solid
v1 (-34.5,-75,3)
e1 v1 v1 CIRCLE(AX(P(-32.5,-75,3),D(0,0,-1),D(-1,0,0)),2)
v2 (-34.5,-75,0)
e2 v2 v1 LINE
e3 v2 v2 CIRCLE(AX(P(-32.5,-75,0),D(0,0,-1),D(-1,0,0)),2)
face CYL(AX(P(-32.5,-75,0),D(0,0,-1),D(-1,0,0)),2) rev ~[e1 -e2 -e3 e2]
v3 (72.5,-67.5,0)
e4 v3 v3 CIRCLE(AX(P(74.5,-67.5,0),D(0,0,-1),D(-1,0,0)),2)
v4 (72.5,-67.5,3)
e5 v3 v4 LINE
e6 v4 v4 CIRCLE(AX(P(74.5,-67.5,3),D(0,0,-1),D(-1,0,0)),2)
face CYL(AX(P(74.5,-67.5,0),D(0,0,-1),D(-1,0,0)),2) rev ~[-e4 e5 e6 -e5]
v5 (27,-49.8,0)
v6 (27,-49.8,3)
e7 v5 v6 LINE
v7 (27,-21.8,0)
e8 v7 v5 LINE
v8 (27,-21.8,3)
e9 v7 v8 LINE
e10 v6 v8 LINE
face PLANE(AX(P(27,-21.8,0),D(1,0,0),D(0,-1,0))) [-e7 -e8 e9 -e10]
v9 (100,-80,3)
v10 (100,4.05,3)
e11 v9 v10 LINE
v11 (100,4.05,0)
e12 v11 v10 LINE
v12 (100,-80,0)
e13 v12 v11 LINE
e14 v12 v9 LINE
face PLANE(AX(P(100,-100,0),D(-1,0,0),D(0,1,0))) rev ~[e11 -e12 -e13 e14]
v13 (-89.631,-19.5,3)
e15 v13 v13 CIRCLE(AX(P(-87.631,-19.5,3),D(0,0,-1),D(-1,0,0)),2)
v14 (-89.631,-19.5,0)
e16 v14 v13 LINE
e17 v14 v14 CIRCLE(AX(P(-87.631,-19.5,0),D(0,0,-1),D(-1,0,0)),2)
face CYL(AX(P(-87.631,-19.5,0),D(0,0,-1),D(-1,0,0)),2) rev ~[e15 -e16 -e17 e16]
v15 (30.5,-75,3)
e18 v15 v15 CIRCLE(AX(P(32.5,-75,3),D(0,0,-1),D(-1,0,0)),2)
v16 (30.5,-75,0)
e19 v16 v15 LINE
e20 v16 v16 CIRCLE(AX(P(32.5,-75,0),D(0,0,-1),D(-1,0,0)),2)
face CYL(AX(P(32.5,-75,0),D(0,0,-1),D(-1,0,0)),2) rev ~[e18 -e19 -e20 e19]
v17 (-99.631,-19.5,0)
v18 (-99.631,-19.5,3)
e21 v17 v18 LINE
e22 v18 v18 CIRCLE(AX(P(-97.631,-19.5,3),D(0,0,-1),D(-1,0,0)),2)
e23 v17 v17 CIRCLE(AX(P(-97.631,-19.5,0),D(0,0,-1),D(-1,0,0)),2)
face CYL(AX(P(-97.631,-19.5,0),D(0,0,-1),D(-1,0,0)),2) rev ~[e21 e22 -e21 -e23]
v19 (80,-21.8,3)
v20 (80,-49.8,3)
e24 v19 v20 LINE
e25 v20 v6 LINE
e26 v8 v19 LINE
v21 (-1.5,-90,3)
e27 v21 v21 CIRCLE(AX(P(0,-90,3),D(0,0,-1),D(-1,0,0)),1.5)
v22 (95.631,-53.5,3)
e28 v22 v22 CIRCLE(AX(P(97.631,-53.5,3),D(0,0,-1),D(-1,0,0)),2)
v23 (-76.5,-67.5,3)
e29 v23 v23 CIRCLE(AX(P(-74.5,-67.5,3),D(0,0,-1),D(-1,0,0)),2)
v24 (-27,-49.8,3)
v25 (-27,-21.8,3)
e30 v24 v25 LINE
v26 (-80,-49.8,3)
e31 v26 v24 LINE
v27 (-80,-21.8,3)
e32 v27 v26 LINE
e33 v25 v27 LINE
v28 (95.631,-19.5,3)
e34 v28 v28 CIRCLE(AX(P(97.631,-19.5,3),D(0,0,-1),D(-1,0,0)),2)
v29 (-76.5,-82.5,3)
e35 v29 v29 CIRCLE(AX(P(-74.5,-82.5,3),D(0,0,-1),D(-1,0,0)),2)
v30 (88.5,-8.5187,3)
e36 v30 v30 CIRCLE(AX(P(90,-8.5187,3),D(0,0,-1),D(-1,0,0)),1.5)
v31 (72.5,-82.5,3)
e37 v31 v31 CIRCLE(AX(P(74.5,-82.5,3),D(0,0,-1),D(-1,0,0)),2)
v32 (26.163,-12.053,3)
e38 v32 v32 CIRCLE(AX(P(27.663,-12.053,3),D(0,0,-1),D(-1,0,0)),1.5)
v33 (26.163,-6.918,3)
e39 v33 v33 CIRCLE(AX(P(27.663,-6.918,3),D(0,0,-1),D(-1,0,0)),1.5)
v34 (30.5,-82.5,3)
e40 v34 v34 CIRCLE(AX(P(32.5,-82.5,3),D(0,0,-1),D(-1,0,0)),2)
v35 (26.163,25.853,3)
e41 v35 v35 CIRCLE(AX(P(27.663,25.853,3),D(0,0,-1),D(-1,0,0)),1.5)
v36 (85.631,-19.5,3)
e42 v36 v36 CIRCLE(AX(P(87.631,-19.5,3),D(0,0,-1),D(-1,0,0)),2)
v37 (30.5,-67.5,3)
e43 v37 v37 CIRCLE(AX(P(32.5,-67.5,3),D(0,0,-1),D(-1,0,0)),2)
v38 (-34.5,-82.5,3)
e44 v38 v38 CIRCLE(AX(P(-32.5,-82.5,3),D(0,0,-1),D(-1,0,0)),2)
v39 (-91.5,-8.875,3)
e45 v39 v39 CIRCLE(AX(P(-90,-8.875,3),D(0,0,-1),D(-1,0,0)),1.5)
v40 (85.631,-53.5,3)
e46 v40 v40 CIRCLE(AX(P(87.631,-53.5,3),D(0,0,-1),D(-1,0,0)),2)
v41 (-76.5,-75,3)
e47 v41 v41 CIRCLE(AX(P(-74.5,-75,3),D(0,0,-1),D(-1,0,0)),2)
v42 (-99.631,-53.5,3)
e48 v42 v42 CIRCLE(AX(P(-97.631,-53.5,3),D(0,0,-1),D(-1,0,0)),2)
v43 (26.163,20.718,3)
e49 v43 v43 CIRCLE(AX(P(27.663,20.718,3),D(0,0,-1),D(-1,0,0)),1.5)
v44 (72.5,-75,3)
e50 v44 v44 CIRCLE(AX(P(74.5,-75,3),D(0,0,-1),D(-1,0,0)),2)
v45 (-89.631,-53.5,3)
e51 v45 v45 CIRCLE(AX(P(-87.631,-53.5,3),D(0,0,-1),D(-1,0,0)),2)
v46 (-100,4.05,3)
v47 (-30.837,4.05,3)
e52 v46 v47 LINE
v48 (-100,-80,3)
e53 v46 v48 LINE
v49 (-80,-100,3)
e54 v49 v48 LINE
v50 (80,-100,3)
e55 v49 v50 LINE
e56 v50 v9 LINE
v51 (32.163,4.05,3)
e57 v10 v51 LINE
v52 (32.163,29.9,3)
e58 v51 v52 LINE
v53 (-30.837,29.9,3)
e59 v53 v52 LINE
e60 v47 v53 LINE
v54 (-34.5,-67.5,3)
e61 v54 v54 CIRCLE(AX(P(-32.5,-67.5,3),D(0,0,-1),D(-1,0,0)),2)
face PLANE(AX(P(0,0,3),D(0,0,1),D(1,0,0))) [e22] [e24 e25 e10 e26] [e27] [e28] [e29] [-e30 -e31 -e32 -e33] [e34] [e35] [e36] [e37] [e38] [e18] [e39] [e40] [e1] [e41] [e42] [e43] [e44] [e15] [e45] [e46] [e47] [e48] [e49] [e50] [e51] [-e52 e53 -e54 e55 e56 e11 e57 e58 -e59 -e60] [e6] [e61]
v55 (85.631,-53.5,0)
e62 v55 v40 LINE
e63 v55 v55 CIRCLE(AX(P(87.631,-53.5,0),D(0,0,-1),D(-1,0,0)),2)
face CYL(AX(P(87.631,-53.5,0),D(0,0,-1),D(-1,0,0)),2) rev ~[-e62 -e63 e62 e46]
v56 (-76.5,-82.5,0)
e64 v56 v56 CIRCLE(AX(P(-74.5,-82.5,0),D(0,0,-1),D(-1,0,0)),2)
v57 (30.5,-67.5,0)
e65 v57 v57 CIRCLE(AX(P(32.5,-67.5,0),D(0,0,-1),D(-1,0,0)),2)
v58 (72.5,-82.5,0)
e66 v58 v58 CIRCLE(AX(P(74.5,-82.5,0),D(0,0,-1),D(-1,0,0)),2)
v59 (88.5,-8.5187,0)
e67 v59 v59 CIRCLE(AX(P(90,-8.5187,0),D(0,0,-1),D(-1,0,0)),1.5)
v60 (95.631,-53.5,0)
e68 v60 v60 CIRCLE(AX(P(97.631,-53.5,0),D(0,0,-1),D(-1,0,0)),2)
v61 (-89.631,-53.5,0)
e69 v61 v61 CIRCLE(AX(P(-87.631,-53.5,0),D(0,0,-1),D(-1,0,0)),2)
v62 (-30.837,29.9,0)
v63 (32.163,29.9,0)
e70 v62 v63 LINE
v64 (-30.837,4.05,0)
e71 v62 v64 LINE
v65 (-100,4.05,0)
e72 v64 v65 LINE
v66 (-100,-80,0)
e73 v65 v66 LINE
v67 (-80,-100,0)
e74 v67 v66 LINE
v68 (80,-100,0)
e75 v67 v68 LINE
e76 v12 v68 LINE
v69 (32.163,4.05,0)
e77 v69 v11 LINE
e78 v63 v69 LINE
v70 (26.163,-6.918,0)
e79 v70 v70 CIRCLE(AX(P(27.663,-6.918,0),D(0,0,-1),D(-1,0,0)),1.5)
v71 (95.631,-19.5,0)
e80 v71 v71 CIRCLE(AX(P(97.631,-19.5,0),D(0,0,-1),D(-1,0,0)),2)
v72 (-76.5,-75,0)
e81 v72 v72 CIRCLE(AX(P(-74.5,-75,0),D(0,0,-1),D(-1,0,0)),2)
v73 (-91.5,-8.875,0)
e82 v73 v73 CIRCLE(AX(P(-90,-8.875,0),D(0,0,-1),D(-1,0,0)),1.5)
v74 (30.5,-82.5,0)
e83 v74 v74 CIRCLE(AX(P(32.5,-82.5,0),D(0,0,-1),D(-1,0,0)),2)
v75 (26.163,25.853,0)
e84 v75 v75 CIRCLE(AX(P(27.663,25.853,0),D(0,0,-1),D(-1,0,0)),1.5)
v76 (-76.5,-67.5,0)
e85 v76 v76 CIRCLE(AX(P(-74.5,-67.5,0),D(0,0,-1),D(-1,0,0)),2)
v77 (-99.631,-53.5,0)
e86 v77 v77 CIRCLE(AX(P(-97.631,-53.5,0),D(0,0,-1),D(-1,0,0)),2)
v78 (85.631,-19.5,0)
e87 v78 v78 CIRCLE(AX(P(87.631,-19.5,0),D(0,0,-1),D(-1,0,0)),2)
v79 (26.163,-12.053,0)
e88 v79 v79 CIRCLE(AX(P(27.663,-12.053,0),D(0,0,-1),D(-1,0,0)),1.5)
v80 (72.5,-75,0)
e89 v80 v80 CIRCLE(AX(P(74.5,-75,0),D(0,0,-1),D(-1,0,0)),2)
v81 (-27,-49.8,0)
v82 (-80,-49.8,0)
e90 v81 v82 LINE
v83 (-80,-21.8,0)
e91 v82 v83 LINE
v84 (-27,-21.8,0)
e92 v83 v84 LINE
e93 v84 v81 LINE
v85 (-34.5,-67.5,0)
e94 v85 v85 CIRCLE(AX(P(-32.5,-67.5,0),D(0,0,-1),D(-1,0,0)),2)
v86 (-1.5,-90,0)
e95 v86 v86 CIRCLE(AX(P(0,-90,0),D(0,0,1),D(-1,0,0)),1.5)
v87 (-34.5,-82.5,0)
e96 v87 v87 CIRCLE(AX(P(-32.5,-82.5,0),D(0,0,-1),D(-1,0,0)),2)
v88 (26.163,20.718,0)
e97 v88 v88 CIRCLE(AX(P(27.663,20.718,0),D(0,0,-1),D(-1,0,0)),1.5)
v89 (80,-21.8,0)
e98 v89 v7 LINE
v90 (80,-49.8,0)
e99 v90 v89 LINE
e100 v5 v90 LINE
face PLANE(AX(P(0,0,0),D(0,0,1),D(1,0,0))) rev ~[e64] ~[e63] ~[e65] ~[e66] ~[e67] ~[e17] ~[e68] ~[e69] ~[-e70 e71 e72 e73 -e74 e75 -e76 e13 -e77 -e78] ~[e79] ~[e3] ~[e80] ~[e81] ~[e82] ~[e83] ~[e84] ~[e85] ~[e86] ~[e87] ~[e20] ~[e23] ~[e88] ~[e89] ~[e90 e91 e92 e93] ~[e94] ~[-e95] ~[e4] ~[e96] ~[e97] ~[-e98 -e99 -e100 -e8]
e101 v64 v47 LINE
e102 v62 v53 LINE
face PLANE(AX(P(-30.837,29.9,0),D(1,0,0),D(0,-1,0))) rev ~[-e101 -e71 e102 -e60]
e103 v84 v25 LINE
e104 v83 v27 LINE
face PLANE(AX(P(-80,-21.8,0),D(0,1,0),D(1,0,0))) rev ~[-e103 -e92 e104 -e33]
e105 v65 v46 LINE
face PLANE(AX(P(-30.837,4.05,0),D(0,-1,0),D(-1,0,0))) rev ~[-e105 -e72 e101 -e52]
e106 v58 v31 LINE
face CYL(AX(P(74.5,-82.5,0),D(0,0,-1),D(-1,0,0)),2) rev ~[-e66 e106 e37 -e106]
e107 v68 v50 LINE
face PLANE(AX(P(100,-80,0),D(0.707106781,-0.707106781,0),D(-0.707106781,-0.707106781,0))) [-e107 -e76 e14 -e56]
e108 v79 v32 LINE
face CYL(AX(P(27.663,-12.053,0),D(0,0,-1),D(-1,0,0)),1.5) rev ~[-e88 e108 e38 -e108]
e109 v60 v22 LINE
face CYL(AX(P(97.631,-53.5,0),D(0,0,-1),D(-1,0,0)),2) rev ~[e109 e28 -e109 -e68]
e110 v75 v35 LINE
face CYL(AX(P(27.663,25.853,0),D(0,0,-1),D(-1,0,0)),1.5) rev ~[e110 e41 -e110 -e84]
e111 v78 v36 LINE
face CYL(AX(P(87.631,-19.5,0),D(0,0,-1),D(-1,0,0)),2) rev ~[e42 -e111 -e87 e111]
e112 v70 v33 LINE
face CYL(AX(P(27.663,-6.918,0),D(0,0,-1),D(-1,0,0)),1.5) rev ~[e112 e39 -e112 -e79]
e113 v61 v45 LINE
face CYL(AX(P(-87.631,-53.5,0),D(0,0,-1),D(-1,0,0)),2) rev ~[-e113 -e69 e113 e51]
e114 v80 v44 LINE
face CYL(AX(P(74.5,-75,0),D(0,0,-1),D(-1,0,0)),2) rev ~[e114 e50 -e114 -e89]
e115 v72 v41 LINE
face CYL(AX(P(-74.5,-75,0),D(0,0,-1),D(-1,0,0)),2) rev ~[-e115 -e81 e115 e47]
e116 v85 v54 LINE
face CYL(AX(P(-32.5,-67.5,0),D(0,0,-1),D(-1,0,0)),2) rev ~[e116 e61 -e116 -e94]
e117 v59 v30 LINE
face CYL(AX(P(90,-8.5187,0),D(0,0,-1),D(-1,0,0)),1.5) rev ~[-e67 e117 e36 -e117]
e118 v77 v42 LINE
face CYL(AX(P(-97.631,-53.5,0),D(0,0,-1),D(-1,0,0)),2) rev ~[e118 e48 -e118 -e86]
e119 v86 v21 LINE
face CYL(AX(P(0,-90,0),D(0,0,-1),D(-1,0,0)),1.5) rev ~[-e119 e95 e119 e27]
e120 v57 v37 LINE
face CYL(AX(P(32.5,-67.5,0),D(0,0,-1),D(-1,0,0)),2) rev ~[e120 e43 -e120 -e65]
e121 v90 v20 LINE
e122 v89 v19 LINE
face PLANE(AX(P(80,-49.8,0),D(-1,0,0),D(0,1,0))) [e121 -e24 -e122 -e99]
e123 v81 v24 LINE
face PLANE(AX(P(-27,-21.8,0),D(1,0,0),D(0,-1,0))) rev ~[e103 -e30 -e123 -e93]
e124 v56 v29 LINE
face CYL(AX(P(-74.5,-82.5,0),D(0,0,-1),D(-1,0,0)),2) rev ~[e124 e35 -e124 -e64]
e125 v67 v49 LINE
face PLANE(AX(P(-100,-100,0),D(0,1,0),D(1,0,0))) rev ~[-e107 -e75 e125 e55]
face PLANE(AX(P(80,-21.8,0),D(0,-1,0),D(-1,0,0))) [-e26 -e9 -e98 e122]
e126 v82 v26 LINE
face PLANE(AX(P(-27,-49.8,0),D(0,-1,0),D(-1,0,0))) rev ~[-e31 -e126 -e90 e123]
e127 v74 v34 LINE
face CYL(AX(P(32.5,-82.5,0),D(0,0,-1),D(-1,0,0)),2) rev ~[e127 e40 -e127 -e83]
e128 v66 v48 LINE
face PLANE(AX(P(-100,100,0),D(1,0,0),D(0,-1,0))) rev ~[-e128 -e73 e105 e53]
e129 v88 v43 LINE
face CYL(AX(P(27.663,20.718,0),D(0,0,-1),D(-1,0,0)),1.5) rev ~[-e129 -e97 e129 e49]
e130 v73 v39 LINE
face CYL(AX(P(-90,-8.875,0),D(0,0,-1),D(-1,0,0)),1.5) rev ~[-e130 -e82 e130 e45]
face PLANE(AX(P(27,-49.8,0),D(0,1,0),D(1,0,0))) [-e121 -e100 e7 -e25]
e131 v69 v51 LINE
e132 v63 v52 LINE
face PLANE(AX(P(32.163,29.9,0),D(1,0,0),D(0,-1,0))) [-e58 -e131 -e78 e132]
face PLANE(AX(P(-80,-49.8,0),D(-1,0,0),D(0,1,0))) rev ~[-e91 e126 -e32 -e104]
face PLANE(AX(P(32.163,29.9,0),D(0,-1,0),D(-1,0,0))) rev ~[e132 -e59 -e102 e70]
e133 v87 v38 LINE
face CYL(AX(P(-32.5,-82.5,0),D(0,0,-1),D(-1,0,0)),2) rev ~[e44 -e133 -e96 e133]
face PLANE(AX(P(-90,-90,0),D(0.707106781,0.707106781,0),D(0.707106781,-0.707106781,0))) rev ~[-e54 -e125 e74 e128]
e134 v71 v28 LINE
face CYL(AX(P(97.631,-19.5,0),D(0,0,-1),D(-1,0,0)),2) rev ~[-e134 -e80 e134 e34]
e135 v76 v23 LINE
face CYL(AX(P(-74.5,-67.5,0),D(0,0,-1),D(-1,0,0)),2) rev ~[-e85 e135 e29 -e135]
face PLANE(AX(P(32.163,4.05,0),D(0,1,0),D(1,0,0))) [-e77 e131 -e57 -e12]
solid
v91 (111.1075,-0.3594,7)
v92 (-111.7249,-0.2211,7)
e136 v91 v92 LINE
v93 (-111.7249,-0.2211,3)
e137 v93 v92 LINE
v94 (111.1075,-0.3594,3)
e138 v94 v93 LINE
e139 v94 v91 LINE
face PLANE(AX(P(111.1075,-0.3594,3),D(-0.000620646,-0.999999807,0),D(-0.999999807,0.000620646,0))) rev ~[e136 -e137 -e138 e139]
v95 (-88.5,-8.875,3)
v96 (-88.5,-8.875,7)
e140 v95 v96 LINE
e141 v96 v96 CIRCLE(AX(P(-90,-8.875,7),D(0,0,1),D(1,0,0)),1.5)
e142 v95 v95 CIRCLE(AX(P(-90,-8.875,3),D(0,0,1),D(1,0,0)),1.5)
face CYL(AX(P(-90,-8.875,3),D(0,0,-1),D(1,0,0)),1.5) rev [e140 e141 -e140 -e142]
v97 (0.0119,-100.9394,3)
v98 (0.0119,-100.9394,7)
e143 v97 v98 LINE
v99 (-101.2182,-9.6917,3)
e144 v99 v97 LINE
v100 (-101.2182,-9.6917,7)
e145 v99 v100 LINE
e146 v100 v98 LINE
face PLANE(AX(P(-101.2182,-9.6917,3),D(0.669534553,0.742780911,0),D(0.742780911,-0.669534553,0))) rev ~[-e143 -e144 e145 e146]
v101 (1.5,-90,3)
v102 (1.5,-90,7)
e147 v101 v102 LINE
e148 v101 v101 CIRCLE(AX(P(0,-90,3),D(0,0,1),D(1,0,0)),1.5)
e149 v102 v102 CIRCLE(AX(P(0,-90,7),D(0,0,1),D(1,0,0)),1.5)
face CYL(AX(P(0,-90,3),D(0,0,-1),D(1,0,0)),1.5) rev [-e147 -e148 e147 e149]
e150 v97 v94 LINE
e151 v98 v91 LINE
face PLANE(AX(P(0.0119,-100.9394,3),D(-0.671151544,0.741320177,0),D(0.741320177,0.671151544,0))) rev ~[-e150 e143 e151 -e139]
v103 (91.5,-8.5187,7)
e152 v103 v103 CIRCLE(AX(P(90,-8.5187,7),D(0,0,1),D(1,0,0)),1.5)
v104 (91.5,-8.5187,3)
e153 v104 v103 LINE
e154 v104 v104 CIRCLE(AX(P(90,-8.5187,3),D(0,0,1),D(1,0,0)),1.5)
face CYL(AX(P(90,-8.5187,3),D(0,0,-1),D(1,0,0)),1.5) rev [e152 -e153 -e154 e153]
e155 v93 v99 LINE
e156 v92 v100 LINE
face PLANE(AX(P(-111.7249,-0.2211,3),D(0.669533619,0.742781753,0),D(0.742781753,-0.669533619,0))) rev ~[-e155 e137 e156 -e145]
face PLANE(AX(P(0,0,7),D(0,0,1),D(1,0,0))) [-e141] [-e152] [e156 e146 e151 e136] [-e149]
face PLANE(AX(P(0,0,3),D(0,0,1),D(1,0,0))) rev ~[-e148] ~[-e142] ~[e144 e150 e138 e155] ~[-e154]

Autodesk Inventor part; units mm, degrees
ref_plane "YZ Plane" through (0, 0, 0) normal (1, 0, 0) x (0, 1, 0)
ref_plane "XZ Plane" through (0, 0, 0) normal (0, 1, 0) x (-1, 0, 0)
ref_plane "XY Plane" through (0, 0, 0) normal (0, 0, 1) x (1, 0, 0)
sketch "Эскиз1" plane through (0, 0, 0) normal (0, 0, 1) x (1, 0, 0)
  line L0 (-100, -100) -> (100, -100)
  line L1 (100, -100) -> (100, 100)
  line L2 (100, 100) -> (-100, 100)
  line L3 (-100, 100) -> (-100, -100)
  line L4 (-100, -100) -> (100, 100) construction
  line L5 (100, -100) -> (-100, 100) construction
  point P0 (0, 0)
  dimension "d0" = 200
  dimension "d1" = 200
extrude "Выдавливание1" add sketch "Эскиз1" along normal blind 3
sketch "Эскиз2" plane through (0, 0, 3) normal (0, 0, 1) x (1, 0, 0)
  line L0 (-100, -100) -> (100, -100) projected
  line L1 (100, -100) -> (100, 100) projected
  line L2 (100, 100) -> (-100, 100) projected
  line L3 (-100, 100) -> (-100, -100) projected
  line L4 (-100, 100) -> (-90, 100) construction
  line L5 (-100, -100) -> (100, -100) construction
  line L6 (100, -100) -> (90, -100) construction
  line L7 (-90, 100) -> (-90, 90) construction
  line L8 (100, 100) -> (-100, 100) construction
  line L9 (-90, 100) -> (-80, 100) construction
  line L10 (90, -100) -> (90, -90) construction
  line L11 (-90, 90) -> (90, 90) construction
  line L12 (90, 90) -> (90, -90) construction
  line L13 (90, -90) -> (-90, -90) construction
  line L14 (-90, -90) -> (-90, 90) construction
  point P0 (0, 0)
  dimension "d4" = 10
  dimension "d5" = 10
  dimension "d6" = 10
  dimension "d7" = 270
  dimension "d8" = 10
sketch "Эскиз3" plane through (0, 0, 0) normal (0, 0, -1) x (-1, 0, 0)
  line L0 (-90, -90) -> (90, -90) construction
  line L1 (90, -90) -> (90, 90) construction
  line L2 (90, 90) -> (-90, 90) construction
  line L3 (100, -100) -> (-100, -100) projected
  line L4 (-100, -100) -> (-100, 100) projected
  line L5 (-100, 100) -> (100, 100) projected
  line L6 (100, 100) -> (100, -100) projected
  line L7 (-90, 90) -> (-90, -90) construction
  point P0 (0, 0)
sketch "Эскиз4" plane through (0, 0, 0) normal (0, 0, -1) x (-1, 0, 0)
  line L0 (90, -90) -> (90, 90) construction
  line L1 (-90, -90) -> (90, -90) construction
  line L2 (90, -90) -> (80, -90) construction
  line L3 (80, -90) -> (80, -57.8) construction
  line L4 (80, -57.8) -> (69, -57.8) construction
  line L5 (69, -57.8) -> (69, -90) construction
  line L6 (74.5, -90) -> (74.5, -58.2367) construction
  line L7 (80, -73.9) -> (69, -73.9) construction
  line L8 (74.5, -90) -> (74.5, -82.5) construction
  circle A0 centre (74.5, -82.5) radius 2
  line L9 (74.5, -82.5) -> (74.5, -75) construction
  line L10 (74.5, -75) -> (74.5, -67.5) construction
  circle A1 centre (74.5, -75) radius 2
  circle A2 centre (74.5, -67.5) radius 2
  line L11 (69, -90) -> (38, -90) construction
  line L12 (53.5, -90) -> (53.5, -69.5) construction
  line L13 (27, -90) -> (27, -57.8) construction
  line L14 (27, -57.8) -> (38, -57.8) construction
  line L15 (38, -57.8) -> (38, -90) construction
  line L16 (32.5, -90) -> (32.5, -58.2367) construction
  line L17 (27, -73.9) -> (38, -73.9) construction
  line L18 (32.5, -90) -> (32.5, -82.5) construction
  circle A3 centre (32.5, -82.5) radius 2
  line L19 (32.5, -82.5) -> (32.5, -75) construction
  line L20 (32.5, -75) -> (32.5, -67.5) construction
  circle A4 centre (32.5, -75) radius 2
  circle A5 centre (32.5, -67.5) radius 2
  line L21 (0, 90) -> (0, -90)
  line L22 (-80, -90) -> (-80, -57.8) construction
  line L23 (-80, -57.8) -> (-69, -57.8) construction
  line L24 (-69, -57.8) -> (-69, -90) construction
  line L25 (-74.5, -90) -> (-74.5, -58.2367) construction
  line L26 (-80, -73.9) -> (-69, -73.9) construction
  line L27 (-74.5, -90) -> (-74.5, -82.5) construction
  circle A6 centre (-74.5, -82.5) radius 2
  line L28 (-74.5, -82.5) -> (-74.5, -75) construction
  line L29 (-74.5, -75) -> (-74.5, -67.5) construction
  circle A7 centre (-74.5, -75) radius 2
  circle A8 centre (-74.5, -67.5) radius 2
  line L30 (-69, -90) -> (-38, -90) construction
  line L31 (-53.5, -90) -> (-53.5, -69.5) construction
  line L32 (-27, -90) -> (-27, -57.8) construction
  line L33 (-38, -57.8) -> (-38, -90) construction
  line L34 (-27, -73.9) -> (-38, -73.9) construction
  line L35 (-27, -57.8) -> (-38, -57.8) construction
  line L36 (-32.5, -90) -> (-32.5, -58.2367) construction
  line L37 (-32.5, -90) -> (-32.5, -82.5) construction
  circle A9 centre (-32.5, -82.5) radius 2
  line L38 (-32.5, -82.5) -> (-32.5, -75) construction
  circle A10 centre (-32.5, -75) radius 2
  line L39 (-32.5, -75) -> (-32.5, -67.5) construction
  circle A11 centre (-32.5, -67.5) radius 2
  line L40 (27, -57.8) -> (80, -57.8) construction
  line L41 (80, -57.8) -> (80, -29.8) construction
  line L42 (80, -29.8) -> (27, -29.8) construction
  line L43 (27, -29.8) -> (27, -57.8) construction
  line L44 (-80, -57.8) -> (-69, -57.8) construction
  line L45 (-27, -57.8) -> (-38, -57.8) construction
  line L46 (-27, -57.8) -> (-80, -57.8) construction
  line L47 (-80, -57.8) -> (-80, -29.8) construction
  line L48 (-80, -29.8) -> (-27, -29.8) construction
  line L49 (-27, -29.8) -> (-27, -57.8) construction
  line L50 (80, -57.8) -> (27, -57.8) construction
  line L51 (27, -57.8) -> (27, -49.8) construction
  line L52 (27, -49.8) -> (80, -49.8) construction
  line L53 (80, -49.8) -> (80, -57.8) construction
  line L54 (-27, -57.8) -> (-80, -57.8) construction
  line L55 (-80, -57.8) -> (-80, -49.8) construction
  line L56 (-80, -49.8) -> (-27, -49.8) construction
  line L57 (-27, -49.8) -> (-27, -57.8) construction
  line L58 (27, -49.8) -> (80, -49.8)
  line L59 (80, -49.8) -> (80, -21.8)
  line L60 (80, -21.8) -> (27, -21.8)
  line L61 (27, -21.8) -> (27, -49.8)
  line L62 (-27, -49.8) -> (-80, -49.8)
  line L63 (-80, -49.8) -> (-80, -21.8)
  line L64 (-80, -21.8) -> (-27, -21.8)
  line L65 (-27, -21.8) -> (-27, -49.8)
  line L66 (100, -100) -> (-100, -100) construction
  line L67 (100, 100) -> (100, -100) construction
  line L68 (-100, 100) -> (100, 100) construction
  line L69 (-100, -100) -> (-100, 100) construction
  line L70 (-100, -100) -> (-100, 100) construction
  line L71 (-100, -10.3933) -> (-30.663, -10.3933) construction
  line L72 (100, -100) -> (-100, -100) construction
  line L73 (-16.2396, -100) -> (-16.2396, -14.621) construction
  line L74 (-100, 100) -> (100, 100) construction
  line L75 (-16.2396, 100) -> (-16.2396, -4.35) construction
  line L76 (-16.2396, 100) -> (88.1104, 100) construction
  line L77 (-30.663, -4.35) -> (-30.663, -14.621)
  line L78 (-30.663, -9.4855) -> (-27.663, -9.4855) construction
  line L79 (-27.663, -4.35) -> (-27.663, -14.621) construction
  line L80 (-30.663, -14.621) -> (-16.2396, -14.621) construction
  line L81 (-30.663, -4.35) -> (-16.2396, -4.35) construction
  line L82 (-16.2396, -14.621) -> (-16.2396, -4.35) construction
  line L83 (-27.663, -14.621) -> (-27.663, -12.053) construction
  circle A12 centre (-27.663, -12.053) radius 1.5
  line L84 (-27.663, -12.053) -> (-27.663, -6.918) construction
  circle A13 centre (-27.663, -6.918) radius 1.5
  line L85 (-30.663, -10.3933) -> (-53.163, -10.3933) construction
  line L86 (-30.663, -4.35) -> (-30.663, 18.15) construction
  line L87 (-30.663, 6.9) -> (-19.0358, 6.9) construction
  line L88 (-30.663, 18.15) -> (-30.663, 28.421)
  line L89 (-30.663, 23.2855) -> (-27.663, 23.2855) construction
  line L90 (-27.663, 18.15) -> (-27.663, 28.421) construction
  line L91 (-27.663, 28.421) -> (-27.663, 25.853) construction
  circle A14 centre (-27.663, 25.853) radius 1.5
  line L92 (-27.663, 25.853) -> (-27.663, 20.718) construction
  circle A15 centre (-27.663, 20.718) radius 1.5
  line L93 (-30.663, 28.421) -> (29.337, 28.421) construction
  line L94 (29.337, 28.421) -> (29.337, -14.621) construction
  line L95 (29.337, -14.621) -> (-30.663, -14.621) construction
  line L96 (-30.663, -14.621) -> (-30.663, 28.421) construction
  line L97 (-30.663, 28.421) -> (29.337, -14.621) construction
  line L98 (29.337, 28.421) -> (-30.663, -14.621) construction
  line L99 (-32.163, -16.1) -> (30.837, -16.1) construction
  line L100 (30.837, -16.1) -> (30.837, 29.9) construction
  line L101 (30.837, 29.9) -> (-32.163, 29.9) construction
  line L102 (-32.163, 29.9) -> (-32.163, -16.1) construction
  line L103 (-32.163, -16.1) -> (30.837, 29.9) construction
  line L104 (30.837, -16.1) -> (-32.163, 29.9) construction
  line L105 (-100, -21.8) -> (100, -21.8) construction
  line L106 (100, -21.8) -> (100, 29.9) construction
  line L107 (100, 29.9) -> (-100, 29.9) construction
  line L108 (-100, 29.9) -> (-100, -21.8) construction
  line L109 (100, 100) -> (100, -100) construction
  line L110 (100, 4.05) -> (-100, 4.05) construction
  line L111 (-90, -90) -> (-90, 47.825) construction
  line L112 (90, -21.8) -> (90, 4.05) construction
  line L113 (-90, -21.0875) -> (-90, 4.05) construction
  line L114 (-90, -8.5187) -> (90, -8.875) construction
  circle A16 centre (-90, -8.5187) radius 1.5
  circle A17 centre (90, -8.875) radius 1.5
  circle A18 centre (0, -90) radius 1.5
  line L115 (100, 4.05) -> (30.837, 4.05) construction
  line L116 (30.837, 4.05) -> (30.837, 100) construction
  line L117 (30.837, 100) -> (100, 100) construction
  line L118 (100, 100) -> (100, 4.05) construction
  line L119 (30.837, 4.05) -> (100, 4.05)
  line L120 (100, 4.05) -> (100, 100)
  line L121 (100, 100) -> (30.837, 100)
  line L122 (30.837, 100) -> (30.837, 4.05)
  line L123 (30.837, 100) -> (-100, 100)
  line L124 (-100, 100) -> (-100, 29.9)
  line L125 (-100, 29.9) -> (30.837, 29.9)
  line L126 (30.837, 29.9) -> (30.837, 100)
  line L127 (-100, 29.9) -> (-32.163, 29.9)
  line L128 (-32.163, 29.9) -> (-32.163, 4.05)
  line L129 (-32.163, 4.05) -> (-100, 4.05)
  line L130 (-100, 4.05) -> (-100, 29.9)
  line L131 (0, -8.6969) -> (-5, -8.6969) construction
  line L132 (0, -8.6969) -> (5, -8.6969) construction
  line L133 (90, -90) -> (100, -80)
  line L134 (90, -90) -> (104.1421, -90) construction
  line L135 (100, -80) -> (80, -100)
  line L136 (100, -100) -> (-100, -100) projected
  line L137 (80, -100) -> (100, -100)
  line L138 (100, -100) -> (100, -80)
  line L139 (-100, -100) -> (100, -100) construction
  line L140 (-100, -100) -> (100, -100) construction
  line L141 (-100, -80) -> (-80, -100)
  line L142 (-100, -100) -> (100, -100)
  line L143 (-100, -100) -> (-100, -80)
  line L144 (100, 100) -> (100, -100) projected
  line L145 (100, -21.8) -> (87.631, -21.8) construction
  line L146 (87.631, 4.05) -> (87.631, -19.5) construction
  line L147 (87.631, -21.8) -> (87.631, -18.7327) construction
  circle A19 centre (87.631, -19.5) radius 2
  line L148 (87.631, -19.5) -> (97.631, -19.5) construction
  circle A20 centre (97.631, -19.5) radius 2
  line L149 (87.631, -19.5) -> (87.631, -53.5) construction
  line L150 (87.631, -36.5) -> (80, -36.5) construction
  circle A21 centre (87.631, -53.5) radius 2
  line L151 (87.631, -53.5) -> (97.631, -53.5) construction
  circle A22 centre (97.631, -53.5) radius 2
  circle A23 centre (-87.631, -19.5) radius 2
  line L152 (-87.631, -19.5) -> (-97.631, -19.5) construction
  circle A24 centre (-97.631, -19.5) radius 2
  circle A25 centre (-87.631, -53.5) radius 2
  line L153 (-87.631, -53.5) -> (-97.631, -53.5) construction
  circle A26 centre (-97.631, -53.5) radius 2
  point P0 (0, 0)
  point P1 (-30.663, 24.1933)
  point P2 (-0.663, 6.9)
  dimension "d9" = 10
  dimension "d10" = 32.2
  dimension "d11" = 11
  dimension "d12" = 7.5
  dimension "d13" = 4
  dimension "d14" = 7.5
  dimension "d15" = 7.5
  dimension "d16" = 4
  dimension "d17" = 4
  dimension "d18" = 31
  dimension "d23" = 28
  dimension "d24" = 8
  dimension "d25" = 8
  dimension "d26" = 28
  dimension "d27" = 28
  dimension "d31" = 69.337
  dimension "d32" = 85.379
  dimension "d33" = 104.35
  dimension "d34" = 90
  dimension "d35" = 3
  dimension "d36" = 2.568
  dimension "d37" = 3
  dimension "d38" = 5.135
  dimension "d39" = 3
  dimension "d40" = 22.5
  dimension "d41" = 22.5
  dimension "d44" = 60
  dimension "d45" = 63
  dimension "d46" = 46
  dimension "d47" = 3
  dimension "d48" = 3
  dimension "d49" = 3
  dimension "d54" = 5
  dimension "d55" = 180
  dimension "d59" = 45
  dimension "d62" = 12.369
  dimension "d63" = 23.55
  dimension "d64" = 4
  dimension "d65" = 10
  dimension "d66" = 4
  dimension "d67" = 34
extrude "Выдавливание2" cut sketch "Эскиз4" against normal blind 10 contours A0 | A1 | A2 | A3 | A4 | A5
extrude "Выдавливание3" cut sketch "Эскиз4" against normal blind 10 contours A6 | A7 | A8 | A9 | A10 | A11
extrude "Выдавливание4" cut sketch "Эскиз4" against normal blind 10 contours L61 L60 L59 L58 | L62 L63 L64 L65
extrude "Выдавливание5" cut sketch "Эскиз4" against normal blind 10 contours A12 | A13 | A14 | A15
extrude "Выдавливание6" cut sketch "Эскиз4" against normal blind 10 contours A18 | A16 | A17
extrude "Выдавливание7" cut sketch "Эскиз4" against normal blind 10 contours L125 L124 L123 L122 | L128 L129 L130 L125 | L122 L121 L120 L119
extrude "Выдавливание9" cut sketch "Эскиз4" against normal blind 10 contours L136 L143 L141 | L138 L136 L135 L133
extrude "Выдавливание10" cut sketch "Эскиз4" against normal blind 10 contours A19 | A20 | A21 | A22 | A23 | A24 | A25 | A26
sketch "Эскиз5" plane through (0, 0, 3) normal (0, 0, 1) x (1, 0, 0)
  circle A0 centre (-90, -8.875) radius 1.5 projected
  circle A1 centre (90, -8.5187) radius 1.5 projected
  circle A2 centre (0, -90) radius 1.5 projected
  line L0 (-90, -8.875) -> (90, -8.5187) construction
  circle A3 centre (0, -90) radius 1.5 construction
  line L1 (90, -8.5187) -> (0, -90) construction
  line L2 (0, -90) -> (-90, -8.875) construction
  line L3 (-82.2082, -11.8596) -> (-2.1284, -84.0426)
  line L4 (2.1195, -83.9305) -> (82.1994, -11.6387)
  line L5 (-97.7918, -5.8904) -> (0.0044, -94.0428)
  line L6 (0.0044, -94.0428) -> (97.8006, -5.5033)
  line L7 (-0.0044, -11.6969) -> (-0.0044, -85.9572) construction
  line L8 (2.1196, -5.6927) -> (-2.1284, -5.6927)
  line L9 (2.1195, -83.9305) -> (2.1195, -11.589)
  line L10 (1.7459, -84.3725) -> (-1.8325, -11.7005) construction
  line L11 (-2.128, -5.7011) -> (-2.1284, -5.6927) construction
  line L12 (-2.1284, -5.6927) -> (-2.1284, -5.7011)
  line L13 (97.8006, -5.5033) -> (2.1196, -5.6927)
  line L14 (-2.128, -5.7011) -> (-97.7918, -5.8904)
  line L15 (-2.1284, -11.7011) -> (-2.1284, -84.0426)
  line L16 (-2.1284, -91.9269) -> (-2.1284, -91.9614)
  line L17 (-2.1284, -91.9614) -> (-2.1266, -91.9253) construction
  line L18 (-1.755, -84.3792) -> (1.8241, -11.6933) construction
  line L19 (82.1994, -11.6387) -> (2.1195, -11.589)
  line L20 (-2.1284, -11.7011) -> (-82.2082, -11.8596)
  line L21 (-101.2182, -9.6917) -> (0.0119, -100.9394)
  line L22 (0.0119, -100.9394) -> (111.1075, -0.3594)
  line L23 (-111.7249, -0.2211) -> (-101.2182, -9.6917)
  line L24 (-111.7249, -0.2211) -> (0.0119, -100.9394)
  line L25 (0.0119, -100.9394) -> (111.1075, -0.3594)
  line L26 (111.1075, -0.3594) -> (-111.7249, -0.2211)
  point P0 (0, 0)
  point P1 (-0.0044, -48.827)
extrude "Выдавливание11" add sketch "Эскиз5" along normal blind 4 separate body contours L20 L15 L3 | L9 L19 L4 | L14 L12 L8 L13 L6 L5 | L23 L26 L22 L21
properties part number "Down base"
